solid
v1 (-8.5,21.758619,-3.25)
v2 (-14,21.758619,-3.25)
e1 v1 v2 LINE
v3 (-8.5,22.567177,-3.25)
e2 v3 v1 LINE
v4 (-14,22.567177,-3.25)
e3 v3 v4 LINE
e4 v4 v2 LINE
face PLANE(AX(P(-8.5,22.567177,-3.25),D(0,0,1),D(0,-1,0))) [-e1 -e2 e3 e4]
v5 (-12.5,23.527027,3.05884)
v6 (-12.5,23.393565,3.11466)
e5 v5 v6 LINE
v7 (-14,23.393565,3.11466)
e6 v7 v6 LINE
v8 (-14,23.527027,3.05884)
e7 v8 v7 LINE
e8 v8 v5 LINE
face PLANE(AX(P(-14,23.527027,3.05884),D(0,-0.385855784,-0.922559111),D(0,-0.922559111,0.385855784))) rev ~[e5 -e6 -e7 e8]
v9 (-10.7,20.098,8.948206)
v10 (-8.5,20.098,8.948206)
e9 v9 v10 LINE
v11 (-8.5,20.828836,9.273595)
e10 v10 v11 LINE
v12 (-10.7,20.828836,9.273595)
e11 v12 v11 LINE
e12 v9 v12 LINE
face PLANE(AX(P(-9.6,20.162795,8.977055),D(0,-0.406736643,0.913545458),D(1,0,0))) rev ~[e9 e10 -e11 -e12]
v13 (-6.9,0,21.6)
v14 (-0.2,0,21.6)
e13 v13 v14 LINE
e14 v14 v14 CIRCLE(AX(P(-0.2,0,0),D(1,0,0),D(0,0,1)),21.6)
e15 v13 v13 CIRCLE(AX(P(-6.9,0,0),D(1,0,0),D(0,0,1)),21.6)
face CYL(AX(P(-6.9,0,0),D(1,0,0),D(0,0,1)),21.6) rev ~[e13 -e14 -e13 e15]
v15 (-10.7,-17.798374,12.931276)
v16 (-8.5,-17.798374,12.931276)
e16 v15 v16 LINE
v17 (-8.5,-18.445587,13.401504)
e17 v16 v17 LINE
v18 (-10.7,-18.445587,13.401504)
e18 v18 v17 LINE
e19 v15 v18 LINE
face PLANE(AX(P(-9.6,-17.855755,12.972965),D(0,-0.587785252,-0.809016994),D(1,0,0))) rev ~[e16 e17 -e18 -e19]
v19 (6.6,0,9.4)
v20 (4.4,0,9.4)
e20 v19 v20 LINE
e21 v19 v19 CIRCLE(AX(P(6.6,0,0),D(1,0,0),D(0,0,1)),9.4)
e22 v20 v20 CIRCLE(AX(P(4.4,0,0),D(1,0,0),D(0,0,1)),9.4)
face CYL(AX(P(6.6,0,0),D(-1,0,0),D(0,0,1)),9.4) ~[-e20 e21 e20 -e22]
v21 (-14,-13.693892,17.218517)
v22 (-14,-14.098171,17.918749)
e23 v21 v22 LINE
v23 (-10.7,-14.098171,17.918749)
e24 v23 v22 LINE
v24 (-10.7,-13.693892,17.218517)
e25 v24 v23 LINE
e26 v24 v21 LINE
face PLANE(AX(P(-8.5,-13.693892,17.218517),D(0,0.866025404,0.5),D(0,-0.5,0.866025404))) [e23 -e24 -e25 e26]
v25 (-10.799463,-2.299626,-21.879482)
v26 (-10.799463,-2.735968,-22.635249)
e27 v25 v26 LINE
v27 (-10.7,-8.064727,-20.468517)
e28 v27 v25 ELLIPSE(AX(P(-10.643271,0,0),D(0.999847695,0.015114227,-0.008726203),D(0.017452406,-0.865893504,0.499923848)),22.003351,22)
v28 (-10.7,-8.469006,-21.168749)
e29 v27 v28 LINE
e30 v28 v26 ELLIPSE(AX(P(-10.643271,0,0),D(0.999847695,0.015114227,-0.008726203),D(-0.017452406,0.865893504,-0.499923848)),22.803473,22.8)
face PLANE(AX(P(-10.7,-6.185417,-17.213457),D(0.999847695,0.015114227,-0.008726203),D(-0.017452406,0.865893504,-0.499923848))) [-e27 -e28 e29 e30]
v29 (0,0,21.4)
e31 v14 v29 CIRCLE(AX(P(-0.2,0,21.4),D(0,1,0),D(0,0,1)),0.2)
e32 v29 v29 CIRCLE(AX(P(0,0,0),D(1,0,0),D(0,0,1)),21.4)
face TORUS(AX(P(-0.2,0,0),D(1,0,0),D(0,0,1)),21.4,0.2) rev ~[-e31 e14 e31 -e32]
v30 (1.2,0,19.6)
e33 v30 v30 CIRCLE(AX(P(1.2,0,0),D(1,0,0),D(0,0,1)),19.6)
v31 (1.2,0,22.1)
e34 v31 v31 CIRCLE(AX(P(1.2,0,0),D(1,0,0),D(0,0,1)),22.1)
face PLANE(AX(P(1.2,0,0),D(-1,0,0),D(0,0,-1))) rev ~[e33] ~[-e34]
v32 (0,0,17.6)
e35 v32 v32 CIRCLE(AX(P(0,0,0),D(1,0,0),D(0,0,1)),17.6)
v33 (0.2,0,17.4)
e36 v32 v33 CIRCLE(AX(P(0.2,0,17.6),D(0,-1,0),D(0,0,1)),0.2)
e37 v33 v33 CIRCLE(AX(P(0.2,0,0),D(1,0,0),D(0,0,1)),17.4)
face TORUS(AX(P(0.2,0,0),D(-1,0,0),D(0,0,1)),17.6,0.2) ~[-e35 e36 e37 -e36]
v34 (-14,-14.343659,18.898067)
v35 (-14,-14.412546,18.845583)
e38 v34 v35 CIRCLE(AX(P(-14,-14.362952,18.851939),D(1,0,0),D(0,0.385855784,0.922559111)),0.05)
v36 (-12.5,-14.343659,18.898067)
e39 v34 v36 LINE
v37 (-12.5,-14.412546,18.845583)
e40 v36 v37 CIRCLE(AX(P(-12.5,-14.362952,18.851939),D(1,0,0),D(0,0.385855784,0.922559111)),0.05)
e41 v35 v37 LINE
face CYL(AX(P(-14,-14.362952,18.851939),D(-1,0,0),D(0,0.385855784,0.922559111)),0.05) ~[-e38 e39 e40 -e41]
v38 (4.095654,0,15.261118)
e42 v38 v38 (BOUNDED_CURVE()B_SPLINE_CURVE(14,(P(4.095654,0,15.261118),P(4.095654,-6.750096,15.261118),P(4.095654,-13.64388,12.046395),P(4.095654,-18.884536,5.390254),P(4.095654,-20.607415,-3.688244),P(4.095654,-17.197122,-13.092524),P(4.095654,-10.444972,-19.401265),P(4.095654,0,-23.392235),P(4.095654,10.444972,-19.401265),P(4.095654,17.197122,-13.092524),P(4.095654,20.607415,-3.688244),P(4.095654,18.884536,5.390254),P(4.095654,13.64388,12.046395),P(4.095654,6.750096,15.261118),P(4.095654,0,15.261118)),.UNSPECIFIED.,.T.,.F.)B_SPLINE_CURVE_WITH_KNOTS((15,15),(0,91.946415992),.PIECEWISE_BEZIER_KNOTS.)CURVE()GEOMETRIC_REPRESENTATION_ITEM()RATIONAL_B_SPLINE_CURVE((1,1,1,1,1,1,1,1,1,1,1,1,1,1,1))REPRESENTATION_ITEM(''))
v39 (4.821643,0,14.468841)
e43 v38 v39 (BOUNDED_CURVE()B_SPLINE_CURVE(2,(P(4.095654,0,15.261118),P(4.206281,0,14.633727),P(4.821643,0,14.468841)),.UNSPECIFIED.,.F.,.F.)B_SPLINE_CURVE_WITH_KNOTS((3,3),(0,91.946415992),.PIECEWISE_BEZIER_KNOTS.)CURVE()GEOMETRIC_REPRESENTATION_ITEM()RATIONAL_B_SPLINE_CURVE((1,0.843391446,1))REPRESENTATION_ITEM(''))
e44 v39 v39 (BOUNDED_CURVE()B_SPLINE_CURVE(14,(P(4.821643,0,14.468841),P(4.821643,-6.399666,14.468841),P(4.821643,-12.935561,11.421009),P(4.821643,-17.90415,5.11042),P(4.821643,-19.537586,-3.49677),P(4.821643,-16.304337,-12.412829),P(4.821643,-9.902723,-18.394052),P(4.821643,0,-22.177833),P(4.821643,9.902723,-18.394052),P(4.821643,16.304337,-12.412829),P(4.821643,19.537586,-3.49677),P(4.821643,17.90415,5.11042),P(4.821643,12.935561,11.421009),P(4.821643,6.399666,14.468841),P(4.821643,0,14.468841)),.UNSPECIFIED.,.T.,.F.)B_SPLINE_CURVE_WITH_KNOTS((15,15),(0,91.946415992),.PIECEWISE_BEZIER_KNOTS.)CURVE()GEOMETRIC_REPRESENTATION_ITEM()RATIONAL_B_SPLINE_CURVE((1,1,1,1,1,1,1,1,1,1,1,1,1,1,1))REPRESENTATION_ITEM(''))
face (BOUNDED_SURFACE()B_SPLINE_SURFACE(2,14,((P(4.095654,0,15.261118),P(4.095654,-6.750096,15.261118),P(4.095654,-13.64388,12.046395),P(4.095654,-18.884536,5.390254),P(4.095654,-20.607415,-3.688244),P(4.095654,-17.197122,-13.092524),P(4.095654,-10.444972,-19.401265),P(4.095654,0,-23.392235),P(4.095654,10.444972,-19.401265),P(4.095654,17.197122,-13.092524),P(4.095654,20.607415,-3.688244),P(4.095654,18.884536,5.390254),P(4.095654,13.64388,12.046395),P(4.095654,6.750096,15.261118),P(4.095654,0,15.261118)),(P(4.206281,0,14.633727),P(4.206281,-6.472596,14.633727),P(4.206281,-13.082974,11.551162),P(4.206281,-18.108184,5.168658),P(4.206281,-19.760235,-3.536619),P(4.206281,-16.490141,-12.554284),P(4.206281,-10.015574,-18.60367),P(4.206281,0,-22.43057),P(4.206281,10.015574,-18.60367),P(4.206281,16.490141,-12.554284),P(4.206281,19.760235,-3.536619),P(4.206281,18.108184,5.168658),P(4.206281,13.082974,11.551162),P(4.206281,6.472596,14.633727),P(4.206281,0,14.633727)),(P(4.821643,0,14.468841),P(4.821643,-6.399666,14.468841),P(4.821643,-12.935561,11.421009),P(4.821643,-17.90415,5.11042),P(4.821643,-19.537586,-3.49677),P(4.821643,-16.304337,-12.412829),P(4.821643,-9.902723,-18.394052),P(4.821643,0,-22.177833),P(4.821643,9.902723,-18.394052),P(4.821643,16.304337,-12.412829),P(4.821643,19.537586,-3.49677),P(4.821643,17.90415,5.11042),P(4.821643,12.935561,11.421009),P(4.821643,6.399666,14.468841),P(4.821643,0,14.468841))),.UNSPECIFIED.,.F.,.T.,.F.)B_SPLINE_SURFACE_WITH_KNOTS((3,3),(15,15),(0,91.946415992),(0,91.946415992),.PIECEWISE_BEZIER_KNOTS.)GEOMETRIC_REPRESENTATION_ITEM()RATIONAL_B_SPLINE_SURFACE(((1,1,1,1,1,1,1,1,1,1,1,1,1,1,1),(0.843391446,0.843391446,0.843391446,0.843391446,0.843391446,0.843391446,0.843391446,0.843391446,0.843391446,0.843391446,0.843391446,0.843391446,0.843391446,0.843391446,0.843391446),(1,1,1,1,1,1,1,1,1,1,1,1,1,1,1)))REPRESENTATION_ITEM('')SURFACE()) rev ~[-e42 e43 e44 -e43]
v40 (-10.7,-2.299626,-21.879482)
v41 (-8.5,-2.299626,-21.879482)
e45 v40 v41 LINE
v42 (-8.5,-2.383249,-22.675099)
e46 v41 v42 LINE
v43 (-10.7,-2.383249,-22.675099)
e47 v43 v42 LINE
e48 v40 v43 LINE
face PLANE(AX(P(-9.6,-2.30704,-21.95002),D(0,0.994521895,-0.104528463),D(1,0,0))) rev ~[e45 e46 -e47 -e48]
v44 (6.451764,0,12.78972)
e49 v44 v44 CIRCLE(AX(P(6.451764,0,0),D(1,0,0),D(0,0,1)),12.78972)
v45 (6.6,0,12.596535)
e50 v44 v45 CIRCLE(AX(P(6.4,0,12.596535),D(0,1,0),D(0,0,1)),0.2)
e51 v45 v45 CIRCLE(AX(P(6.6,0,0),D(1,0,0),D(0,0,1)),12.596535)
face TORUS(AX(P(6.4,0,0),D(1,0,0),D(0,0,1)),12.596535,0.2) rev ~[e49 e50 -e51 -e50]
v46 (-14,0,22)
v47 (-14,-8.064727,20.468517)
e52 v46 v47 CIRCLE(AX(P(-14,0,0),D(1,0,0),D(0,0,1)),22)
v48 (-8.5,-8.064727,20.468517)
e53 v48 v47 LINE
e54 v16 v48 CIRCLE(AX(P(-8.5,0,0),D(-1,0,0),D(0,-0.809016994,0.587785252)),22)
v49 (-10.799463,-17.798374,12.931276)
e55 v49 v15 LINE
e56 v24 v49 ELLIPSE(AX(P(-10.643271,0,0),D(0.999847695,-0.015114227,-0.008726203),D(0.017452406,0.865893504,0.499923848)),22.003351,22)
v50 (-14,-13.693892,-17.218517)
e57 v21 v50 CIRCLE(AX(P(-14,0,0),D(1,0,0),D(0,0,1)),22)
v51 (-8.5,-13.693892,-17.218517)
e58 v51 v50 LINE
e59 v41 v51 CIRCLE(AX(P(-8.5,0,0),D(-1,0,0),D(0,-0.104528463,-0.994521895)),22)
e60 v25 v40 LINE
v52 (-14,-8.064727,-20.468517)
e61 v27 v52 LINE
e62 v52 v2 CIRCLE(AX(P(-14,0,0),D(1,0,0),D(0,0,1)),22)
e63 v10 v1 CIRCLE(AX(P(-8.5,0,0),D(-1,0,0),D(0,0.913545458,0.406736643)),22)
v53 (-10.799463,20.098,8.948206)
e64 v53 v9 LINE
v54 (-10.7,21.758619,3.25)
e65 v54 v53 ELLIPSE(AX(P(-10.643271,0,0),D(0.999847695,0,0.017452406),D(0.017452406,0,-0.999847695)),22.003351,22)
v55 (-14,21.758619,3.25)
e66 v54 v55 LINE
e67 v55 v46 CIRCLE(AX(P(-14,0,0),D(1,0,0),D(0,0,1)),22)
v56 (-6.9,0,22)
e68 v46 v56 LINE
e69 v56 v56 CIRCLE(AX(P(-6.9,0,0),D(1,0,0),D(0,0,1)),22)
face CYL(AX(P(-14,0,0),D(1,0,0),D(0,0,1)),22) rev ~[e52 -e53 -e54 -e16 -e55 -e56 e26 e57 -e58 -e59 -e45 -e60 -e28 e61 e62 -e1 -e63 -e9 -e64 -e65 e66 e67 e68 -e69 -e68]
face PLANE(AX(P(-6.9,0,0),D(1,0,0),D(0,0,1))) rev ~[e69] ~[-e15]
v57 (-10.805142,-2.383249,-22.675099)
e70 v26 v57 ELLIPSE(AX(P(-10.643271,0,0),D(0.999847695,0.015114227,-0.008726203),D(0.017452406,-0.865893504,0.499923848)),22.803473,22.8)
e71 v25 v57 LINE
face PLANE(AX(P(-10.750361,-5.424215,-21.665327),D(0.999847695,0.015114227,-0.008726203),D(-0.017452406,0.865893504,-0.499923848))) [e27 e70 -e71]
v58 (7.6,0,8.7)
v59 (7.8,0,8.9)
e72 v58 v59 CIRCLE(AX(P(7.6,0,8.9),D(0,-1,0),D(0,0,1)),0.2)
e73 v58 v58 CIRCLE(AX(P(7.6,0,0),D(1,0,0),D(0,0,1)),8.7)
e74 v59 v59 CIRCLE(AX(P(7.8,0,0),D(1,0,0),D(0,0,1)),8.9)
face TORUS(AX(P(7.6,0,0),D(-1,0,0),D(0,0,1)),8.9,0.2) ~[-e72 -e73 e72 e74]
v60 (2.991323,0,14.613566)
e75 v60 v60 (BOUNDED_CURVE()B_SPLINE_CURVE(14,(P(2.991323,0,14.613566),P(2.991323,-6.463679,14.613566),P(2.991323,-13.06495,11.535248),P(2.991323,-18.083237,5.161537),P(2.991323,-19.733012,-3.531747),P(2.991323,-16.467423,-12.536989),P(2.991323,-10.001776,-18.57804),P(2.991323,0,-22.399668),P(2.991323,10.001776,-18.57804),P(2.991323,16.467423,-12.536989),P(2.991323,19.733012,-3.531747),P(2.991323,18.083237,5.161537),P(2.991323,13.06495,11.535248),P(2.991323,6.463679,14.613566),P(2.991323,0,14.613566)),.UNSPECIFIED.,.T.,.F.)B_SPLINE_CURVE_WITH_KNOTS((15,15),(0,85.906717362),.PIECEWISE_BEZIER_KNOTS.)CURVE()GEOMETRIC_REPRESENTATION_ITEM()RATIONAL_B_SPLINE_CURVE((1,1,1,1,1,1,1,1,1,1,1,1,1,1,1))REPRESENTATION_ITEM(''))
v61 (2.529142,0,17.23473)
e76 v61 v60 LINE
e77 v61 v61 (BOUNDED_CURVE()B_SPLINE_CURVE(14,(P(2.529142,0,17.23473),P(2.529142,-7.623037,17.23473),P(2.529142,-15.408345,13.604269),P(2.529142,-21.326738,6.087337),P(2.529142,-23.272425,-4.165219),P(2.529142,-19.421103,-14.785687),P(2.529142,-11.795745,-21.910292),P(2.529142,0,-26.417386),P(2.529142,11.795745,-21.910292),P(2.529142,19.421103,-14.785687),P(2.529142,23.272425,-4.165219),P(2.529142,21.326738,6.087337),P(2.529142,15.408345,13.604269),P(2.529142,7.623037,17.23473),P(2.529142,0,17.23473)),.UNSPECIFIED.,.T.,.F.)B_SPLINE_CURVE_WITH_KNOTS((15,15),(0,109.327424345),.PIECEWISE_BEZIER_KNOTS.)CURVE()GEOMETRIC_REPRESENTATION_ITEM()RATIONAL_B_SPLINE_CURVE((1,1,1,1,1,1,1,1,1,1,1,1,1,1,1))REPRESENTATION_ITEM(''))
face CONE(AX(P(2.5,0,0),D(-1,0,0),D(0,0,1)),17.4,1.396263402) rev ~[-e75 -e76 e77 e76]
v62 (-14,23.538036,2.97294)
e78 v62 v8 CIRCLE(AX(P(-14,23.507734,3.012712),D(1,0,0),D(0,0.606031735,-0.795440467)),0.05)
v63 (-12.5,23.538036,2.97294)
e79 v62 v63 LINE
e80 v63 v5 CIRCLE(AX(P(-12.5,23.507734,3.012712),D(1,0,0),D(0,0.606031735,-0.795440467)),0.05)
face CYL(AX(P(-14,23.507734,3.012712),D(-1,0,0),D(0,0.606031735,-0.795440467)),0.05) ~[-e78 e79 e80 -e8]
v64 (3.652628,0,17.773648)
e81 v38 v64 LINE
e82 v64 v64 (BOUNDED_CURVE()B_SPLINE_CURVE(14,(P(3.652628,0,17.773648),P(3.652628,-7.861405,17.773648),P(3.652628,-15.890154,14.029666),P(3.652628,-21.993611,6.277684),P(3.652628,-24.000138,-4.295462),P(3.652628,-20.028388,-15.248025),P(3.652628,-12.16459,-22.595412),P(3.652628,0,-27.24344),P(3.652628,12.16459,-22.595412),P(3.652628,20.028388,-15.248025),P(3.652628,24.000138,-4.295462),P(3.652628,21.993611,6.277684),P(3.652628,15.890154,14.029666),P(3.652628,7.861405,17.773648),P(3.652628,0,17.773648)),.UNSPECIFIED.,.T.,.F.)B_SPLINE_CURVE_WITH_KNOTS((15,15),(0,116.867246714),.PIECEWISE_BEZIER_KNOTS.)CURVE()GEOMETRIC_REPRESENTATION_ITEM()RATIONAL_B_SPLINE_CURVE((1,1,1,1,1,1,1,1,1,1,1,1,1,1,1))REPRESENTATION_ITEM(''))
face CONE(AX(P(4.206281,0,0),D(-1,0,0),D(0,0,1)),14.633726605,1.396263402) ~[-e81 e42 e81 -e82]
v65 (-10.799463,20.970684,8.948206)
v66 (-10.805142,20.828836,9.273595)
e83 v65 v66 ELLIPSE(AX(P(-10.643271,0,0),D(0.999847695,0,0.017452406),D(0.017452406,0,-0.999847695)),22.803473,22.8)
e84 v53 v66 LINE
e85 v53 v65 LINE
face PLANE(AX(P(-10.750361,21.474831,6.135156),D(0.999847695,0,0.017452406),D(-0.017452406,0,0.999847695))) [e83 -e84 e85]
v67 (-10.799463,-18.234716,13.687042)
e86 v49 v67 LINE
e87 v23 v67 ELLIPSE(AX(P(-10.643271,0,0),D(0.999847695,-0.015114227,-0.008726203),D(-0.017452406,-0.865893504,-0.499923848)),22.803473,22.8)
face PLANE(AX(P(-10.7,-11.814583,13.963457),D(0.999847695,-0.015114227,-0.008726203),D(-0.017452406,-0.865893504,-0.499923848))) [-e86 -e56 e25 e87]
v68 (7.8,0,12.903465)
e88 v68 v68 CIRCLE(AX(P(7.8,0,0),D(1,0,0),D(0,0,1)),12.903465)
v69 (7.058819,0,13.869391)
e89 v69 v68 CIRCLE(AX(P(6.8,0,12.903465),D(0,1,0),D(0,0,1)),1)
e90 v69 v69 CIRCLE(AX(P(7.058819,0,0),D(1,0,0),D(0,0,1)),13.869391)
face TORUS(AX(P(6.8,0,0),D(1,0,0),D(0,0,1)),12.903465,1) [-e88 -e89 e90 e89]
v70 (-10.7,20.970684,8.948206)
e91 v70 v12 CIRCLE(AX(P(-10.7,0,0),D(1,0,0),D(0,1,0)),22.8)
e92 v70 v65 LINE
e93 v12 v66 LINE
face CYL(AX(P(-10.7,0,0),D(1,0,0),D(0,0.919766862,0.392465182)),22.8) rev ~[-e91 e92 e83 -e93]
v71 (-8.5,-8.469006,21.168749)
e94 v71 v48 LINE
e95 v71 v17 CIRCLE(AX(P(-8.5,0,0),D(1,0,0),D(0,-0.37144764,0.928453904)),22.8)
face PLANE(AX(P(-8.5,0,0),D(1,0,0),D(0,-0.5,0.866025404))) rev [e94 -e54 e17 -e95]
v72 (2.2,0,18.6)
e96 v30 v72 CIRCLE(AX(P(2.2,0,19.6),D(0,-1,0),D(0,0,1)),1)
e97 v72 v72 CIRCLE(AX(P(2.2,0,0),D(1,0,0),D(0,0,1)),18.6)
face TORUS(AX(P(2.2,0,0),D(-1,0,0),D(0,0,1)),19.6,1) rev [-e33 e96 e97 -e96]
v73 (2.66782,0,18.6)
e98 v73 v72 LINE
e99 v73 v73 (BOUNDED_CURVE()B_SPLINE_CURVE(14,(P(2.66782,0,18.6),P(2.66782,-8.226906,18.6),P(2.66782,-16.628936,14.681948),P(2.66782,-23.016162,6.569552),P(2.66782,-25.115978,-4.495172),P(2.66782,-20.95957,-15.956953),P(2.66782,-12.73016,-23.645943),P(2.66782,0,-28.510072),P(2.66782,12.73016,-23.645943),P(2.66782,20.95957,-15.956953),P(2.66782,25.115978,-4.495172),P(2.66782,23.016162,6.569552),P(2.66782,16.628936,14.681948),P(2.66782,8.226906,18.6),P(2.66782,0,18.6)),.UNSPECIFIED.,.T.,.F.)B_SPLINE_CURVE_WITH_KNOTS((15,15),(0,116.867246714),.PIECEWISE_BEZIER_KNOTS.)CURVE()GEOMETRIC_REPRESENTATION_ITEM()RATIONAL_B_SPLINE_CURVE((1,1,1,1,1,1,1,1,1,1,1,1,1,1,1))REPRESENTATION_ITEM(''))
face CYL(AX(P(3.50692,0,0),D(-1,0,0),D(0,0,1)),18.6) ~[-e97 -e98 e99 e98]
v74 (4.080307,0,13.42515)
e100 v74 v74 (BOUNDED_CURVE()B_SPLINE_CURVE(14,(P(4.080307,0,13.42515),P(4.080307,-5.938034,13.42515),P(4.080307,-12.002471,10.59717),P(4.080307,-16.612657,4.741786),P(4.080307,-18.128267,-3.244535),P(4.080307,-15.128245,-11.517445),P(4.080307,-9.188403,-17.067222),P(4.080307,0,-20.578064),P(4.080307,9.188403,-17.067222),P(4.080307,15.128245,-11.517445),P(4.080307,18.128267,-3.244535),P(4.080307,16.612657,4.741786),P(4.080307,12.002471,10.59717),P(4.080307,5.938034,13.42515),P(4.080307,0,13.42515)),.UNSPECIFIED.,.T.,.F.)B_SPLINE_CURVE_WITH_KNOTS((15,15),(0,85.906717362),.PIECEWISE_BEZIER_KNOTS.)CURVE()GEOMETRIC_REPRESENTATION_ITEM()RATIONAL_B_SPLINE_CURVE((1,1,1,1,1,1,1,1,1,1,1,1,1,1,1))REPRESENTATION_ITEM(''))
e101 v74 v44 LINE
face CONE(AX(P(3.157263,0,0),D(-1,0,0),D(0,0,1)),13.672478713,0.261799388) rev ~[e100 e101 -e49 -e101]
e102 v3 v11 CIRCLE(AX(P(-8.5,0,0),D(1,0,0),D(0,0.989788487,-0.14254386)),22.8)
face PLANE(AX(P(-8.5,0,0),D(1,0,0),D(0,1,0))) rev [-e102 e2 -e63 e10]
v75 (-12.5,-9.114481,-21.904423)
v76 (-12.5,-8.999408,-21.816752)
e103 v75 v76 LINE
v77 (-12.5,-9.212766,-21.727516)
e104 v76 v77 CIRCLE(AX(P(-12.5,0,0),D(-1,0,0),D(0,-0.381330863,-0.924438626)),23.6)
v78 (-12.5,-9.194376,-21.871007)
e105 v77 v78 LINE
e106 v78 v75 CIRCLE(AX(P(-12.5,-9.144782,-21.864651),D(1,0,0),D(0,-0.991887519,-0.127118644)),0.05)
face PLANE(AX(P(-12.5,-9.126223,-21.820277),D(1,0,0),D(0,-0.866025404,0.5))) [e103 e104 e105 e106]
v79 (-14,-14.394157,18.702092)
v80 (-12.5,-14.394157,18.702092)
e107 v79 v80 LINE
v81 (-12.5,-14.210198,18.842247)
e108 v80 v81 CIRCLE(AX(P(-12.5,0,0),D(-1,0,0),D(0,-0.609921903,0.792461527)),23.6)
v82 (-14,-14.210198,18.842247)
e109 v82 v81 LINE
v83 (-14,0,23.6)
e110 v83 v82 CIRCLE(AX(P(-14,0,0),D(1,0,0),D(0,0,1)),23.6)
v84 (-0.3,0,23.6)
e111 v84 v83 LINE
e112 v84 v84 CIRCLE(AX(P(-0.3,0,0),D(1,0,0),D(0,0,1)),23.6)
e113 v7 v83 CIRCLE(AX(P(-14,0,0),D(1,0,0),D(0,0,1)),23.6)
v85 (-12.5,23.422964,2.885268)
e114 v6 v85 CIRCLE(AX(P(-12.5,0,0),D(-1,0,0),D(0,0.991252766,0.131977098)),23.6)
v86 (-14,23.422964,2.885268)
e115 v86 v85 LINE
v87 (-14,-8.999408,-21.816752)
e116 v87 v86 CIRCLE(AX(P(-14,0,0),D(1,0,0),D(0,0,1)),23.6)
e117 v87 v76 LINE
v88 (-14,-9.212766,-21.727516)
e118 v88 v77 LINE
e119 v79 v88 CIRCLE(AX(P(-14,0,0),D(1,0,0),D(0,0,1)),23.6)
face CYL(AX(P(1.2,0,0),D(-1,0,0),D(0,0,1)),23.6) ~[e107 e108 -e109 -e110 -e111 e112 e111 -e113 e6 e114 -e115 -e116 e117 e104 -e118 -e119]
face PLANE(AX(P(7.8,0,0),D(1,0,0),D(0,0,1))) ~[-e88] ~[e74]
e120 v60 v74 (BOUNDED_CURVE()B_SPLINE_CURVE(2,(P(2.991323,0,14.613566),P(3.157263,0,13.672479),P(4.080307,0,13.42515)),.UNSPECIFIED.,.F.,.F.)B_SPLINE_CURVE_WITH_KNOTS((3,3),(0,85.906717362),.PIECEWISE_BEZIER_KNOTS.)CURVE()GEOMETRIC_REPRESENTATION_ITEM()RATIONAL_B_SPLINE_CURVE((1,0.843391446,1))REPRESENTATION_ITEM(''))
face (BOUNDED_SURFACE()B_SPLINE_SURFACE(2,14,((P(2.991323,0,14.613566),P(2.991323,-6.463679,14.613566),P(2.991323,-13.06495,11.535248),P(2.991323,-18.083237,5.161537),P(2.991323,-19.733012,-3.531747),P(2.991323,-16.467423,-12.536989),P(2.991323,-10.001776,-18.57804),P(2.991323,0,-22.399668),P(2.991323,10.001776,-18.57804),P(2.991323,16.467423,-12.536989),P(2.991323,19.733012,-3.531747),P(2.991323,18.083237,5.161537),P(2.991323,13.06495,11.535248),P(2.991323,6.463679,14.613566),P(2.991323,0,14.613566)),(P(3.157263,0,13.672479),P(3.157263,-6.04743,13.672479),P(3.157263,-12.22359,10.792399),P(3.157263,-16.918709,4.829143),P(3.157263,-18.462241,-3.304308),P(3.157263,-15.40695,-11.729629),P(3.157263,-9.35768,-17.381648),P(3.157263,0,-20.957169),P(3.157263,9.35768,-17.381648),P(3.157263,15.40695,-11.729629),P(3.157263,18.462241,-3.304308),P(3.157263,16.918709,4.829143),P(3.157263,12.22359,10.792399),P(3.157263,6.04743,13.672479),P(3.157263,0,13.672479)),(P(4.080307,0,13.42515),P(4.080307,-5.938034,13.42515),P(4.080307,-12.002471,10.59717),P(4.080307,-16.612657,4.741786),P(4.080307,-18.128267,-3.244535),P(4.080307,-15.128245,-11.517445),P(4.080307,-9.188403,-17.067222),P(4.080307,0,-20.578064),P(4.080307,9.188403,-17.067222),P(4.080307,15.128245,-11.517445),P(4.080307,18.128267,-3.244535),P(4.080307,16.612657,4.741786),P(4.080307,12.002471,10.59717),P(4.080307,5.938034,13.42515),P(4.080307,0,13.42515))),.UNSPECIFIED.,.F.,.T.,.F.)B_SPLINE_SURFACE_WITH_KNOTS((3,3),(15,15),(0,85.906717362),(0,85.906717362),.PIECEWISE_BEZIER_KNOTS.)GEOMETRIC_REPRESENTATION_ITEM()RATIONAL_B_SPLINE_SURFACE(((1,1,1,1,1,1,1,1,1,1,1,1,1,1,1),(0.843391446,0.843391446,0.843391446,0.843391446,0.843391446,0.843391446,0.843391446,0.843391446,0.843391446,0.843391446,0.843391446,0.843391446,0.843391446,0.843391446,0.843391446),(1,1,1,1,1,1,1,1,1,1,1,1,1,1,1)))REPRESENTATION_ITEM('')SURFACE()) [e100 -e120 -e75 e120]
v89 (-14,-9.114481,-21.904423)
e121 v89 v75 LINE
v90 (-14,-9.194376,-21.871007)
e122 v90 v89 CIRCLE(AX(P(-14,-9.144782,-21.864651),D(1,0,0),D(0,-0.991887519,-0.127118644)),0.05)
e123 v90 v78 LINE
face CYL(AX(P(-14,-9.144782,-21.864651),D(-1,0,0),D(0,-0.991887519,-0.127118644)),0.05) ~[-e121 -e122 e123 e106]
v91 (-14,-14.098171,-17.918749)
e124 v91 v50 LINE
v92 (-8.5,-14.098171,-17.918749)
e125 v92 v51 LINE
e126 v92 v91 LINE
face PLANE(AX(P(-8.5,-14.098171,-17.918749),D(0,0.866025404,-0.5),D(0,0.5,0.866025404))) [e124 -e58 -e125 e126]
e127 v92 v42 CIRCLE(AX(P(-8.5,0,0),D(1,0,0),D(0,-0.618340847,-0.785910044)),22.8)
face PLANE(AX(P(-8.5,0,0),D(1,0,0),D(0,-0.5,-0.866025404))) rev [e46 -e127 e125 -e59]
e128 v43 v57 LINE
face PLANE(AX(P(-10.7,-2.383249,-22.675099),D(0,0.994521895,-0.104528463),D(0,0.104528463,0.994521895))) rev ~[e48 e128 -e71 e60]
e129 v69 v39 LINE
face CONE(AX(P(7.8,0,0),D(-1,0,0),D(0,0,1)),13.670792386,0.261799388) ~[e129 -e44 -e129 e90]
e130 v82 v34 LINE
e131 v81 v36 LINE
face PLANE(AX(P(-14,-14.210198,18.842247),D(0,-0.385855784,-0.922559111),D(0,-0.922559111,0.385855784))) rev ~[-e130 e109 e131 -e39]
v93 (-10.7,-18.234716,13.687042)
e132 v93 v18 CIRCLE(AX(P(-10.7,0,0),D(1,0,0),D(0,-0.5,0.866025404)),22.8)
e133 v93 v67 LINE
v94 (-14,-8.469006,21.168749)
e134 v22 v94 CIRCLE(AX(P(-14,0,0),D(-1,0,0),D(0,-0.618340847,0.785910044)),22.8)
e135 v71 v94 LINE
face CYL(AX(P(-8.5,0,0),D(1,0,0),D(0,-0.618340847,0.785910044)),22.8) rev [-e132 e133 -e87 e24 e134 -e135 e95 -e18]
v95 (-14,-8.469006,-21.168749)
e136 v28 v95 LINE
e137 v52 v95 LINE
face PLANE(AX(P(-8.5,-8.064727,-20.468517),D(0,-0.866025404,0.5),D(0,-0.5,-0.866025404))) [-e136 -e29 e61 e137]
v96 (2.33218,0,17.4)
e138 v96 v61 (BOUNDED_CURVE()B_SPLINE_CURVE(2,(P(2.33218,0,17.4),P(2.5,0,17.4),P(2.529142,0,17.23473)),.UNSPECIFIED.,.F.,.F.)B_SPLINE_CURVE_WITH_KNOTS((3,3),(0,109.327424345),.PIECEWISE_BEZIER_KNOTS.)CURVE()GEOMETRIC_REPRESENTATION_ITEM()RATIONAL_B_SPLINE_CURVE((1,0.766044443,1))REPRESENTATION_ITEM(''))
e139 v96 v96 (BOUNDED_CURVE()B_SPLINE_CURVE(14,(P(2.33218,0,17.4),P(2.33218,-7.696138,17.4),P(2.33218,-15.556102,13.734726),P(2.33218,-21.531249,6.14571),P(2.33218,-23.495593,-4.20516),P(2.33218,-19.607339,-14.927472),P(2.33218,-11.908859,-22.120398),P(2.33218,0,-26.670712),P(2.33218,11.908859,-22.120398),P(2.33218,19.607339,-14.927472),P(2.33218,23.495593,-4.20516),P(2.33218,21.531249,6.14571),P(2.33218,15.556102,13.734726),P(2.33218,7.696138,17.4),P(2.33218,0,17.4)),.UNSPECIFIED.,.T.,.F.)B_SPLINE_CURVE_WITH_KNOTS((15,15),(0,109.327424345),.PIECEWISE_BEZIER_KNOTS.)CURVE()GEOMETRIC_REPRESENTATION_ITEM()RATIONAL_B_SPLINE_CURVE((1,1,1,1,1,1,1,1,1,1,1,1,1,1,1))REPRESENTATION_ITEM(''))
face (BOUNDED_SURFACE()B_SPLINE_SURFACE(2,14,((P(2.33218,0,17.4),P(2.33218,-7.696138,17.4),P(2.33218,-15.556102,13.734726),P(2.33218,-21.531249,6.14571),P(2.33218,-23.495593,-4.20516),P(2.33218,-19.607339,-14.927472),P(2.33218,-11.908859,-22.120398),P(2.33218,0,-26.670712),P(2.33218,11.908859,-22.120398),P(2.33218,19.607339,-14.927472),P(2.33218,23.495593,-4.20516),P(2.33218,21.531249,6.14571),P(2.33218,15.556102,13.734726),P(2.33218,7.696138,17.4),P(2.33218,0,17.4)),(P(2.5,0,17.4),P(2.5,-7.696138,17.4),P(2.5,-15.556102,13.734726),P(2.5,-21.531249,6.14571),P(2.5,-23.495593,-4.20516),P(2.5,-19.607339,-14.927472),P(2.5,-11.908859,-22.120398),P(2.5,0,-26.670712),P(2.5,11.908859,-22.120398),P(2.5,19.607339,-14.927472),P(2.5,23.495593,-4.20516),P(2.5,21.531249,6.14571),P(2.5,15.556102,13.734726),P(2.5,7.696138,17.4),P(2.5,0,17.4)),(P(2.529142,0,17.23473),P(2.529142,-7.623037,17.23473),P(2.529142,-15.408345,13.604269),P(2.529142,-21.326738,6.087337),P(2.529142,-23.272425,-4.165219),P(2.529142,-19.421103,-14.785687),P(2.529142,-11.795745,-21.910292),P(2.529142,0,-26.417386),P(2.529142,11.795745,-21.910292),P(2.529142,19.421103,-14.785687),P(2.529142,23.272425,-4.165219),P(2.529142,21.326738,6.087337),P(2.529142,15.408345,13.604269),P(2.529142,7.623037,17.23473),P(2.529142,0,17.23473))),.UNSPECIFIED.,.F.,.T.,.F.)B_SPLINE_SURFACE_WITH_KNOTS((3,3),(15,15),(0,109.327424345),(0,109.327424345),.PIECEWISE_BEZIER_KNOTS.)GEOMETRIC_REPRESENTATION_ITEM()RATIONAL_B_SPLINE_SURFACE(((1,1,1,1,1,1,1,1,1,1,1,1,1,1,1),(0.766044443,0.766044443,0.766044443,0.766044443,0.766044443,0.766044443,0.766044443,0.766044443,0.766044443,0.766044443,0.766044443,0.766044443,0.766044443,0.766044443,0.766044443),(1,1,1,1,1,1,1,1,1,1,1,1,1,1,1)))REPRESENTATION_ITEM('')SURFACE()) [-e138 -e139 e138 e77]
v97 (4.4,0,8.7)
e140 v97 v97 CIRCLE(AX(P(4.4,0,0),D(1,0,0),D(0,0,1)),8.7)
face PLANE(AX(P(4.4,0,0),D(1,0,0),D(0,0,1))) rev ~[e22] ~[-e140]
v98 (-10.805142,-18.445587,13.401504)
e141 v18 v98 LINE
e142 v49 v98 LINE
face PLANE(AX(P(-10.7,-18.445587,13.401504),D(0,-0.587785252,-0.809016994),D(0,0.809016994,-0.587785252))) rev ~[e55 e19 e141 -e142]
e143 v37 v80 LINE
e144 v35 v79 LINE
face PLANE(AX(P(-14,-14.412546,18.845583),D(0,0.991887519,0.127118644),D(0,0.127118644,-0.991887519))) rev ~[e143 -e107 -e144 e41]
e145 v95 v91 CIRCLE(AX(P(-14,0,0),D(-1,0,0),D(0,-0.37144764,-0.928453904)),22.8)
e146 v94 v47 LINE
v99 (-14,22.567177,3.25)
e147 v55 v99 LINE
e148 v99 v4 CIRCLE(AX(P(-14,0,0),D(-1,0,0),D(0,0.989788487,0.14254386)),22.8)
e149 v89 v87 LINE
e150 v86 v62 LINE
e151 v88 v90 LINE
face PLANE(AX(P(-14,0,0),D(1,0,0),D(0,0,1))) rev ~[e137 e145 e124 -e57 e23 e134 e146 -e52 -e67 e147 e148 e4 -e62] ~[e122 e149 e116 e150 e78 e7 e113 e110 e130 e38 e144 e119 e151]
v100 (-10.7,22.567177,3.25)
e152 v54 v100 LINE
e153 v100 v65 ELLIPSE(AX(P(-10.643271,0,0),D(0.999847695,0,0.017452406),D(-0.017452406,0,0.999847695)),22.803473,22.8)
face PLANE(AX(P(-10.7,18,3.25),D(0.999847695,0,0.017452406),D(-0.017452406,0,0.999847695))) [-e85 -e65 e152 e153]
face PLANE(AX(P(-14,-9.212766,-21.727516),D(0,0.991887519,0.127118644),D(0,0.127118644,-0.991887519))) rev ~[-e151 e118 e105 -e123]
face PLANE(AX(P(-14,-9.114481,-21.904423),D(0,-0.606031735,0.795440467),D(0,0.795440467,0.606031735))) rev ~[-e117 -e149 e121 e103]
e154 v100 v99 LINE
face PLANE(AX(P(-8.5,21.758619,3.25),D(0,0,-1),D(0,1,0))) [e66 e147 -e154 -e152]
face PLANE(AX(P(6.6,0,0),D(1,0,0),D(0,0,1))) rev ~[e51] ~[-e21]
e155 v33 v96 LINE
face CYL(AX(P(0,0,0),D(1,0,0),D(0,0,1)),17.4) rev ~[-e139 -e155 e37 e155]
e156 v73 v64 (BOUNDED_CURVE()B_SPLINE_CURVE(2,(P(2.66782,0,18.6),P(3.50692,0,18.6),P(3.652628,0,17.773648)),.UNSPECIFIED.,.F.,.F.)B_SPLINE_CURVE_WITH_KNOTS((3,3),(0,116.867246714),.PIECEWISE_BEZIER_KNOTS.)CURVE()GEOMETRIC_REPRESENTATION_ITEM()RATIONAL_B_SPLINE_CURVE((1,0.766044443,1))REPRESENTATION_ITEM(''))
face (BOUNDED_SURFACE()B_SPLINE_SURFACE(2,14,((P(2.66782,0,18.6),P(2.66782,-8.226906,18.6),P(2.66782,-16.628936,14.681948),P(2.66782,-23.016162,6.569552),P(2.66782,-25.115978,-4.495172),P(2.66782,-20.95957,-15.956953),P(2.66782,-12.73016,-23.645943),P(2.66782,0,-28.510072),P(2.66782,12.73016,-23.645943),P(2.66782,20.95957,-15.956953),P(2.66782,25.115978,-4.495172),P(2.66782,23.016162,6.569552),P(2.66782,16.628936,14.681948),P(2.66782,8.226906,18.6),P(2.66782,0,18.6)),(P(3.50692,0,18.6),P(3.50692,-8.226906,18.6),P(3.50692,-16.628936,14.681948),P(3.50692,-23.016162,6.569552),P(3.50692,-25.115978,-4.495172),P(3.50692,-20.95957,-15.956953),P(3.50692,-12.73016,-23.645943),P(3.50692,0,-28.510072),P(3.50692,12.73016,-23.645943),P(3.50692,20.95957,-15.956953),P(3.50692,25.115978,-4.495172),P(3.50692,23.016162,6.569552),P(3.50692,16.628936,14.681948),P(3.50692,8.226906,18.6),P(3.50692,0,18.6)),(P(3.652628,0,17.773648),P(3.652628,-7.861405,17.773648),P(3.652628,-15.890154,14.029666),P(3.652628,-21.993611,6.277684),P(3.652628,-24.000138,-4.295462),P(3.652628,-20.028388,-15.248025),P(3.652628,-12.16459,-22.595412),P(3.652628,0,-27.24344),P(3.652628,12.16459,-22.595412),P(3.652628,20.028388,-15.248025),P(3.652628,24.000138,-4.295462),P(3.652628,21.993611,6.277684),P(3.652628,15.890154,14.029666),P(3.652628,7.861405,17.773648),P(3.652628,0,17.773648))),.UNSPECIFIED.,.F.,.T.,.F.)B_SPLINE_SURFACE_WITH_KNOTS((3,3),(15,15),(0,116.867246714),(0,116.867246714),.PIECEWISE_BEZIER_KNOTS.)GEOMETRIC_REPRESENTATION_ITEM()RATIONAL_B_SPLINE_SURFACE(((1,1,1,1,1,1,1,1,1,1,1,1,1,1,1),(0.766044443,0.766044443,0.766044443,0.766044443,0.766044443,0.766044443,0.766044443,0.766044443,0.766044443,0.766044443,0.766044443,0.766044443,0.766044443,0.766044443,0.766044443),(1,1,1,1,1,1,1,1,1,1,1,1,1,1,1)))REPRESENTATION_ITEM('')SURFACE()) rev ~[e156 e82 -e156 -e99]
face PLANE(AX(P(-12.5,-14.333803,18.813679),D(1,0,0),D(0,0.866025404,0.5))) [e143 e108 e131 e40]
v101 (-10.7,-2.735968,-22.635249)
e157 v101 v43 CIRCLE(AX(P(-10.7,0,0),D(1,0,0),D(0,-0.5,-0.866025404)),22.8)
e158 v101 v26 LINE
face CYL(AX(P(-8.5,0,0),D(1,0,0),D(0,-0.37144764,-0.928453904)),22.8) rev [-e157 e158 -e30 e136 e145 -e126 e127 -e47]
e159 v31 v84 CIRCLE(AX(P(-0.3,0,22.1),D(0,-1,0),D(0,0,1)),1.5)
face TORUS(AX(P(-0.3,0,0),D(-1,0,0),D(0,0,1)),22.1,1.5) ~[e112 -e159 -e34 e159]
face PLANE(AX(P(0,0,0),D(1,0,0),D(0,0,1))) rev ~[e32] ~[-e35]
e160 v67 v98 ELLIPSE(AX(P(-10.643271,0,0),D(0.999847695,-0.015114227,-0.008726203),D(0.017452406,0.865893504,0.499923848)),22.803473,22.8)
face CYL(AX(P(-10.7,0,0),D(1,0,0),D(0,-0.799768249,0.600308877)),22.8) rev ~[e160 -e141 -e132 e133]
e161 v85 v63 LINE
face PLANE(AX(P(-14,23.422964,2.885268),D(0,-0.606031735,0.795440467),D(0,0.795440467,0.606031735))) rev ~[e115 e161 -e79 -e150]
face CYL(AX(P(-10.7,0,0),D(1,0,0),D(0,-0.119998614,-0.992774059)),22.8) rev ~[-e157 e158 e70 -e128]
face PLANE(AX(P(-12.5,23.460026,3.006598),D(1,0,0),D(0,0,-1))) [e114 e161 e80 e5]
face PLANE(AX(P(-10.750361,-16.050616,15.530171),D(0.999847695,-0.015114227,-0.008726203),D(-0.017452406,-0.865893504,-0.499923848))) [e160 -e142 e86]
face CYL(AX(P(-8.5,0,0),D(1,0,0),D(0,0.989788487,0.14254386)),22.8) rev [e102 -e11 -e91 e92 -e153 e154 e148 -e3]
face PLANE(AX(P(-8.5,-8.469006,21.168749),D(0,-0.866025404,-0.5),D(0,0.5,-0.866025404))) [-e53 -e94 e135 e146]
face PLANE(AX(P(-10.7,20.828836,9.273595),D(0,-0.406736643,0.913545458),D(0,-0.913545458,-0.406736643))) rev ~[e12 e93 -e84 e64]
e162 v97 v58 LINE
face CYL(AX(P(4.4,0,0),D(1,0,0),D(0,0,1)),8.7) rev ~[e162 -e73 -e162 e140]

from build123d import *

# Parameters (mm, degrees)
FILLET_1_R               = 0.2
FILLET_2_R               = 1
FILLET_3_R               = 1.5
CUT_EXTRUDE_START        = -1
CUT_EXTRUDE_1_DEPTH      = 1
CUT_EXTRUDE_START_2      = -5.5
CUT_EXTRUDE_2_DEPTH      = 5.5
SKETCH_5_W               = 2.200000000000001
SKETCH_5_H               = 1.458146796235166
CUT_REVOLVE_1_ANGLE      = 24.000000000000053
CUT_EXTRUDE_3_REACH      = 51.835
CUT_EXTRUDE_3_END_RADIUS = 22.8
PATTERN_CIRCULAR_1_COUNT = 3
CUT_EXTRUDE_5_REACH      = 40.16
PATTERN_CIRCULAR_3_COUNT = 3
CUT_EXTRUDE_6_REACH      = 40.16
CUT_EXTRUDE_7_REACH      = 40.16
EXTRUDE_2_DEPTH          = 1.5
PATTERN_CIRCULAR_7_COUNT = 3


with BuildPart() as part:
    # 草图2 → 旋转1 (revolve)
    with BuildSketch(Plane.XY, mode=Mode.PRIVATE) as revolve_1_sk:
        Polygon((-13.999999999999998, 22), (-6.899999999999999, 22), (-6.899999999999999, 21.599999999999998), (1.73e-15, 21.599999999999998), (2.28e-15, 17.4), (2.500000000000002, 17.4), (3.157262574057294, 13.672478713033763), (6.600000000000001, 12.75), (6.600000000000003, 9.4), (4.400000000000003, 9.4), (4.400000000000003, 8.700000000000001), (7.800000000000003, 8.700000000000001), (7.800000000000003, 13.670792385574746), (4.206280569869923, 14.633726604702153), (3.506919557412737, 18.599999999999998), (1.200000000000002, 18.599999999999998), (1.2000000000000015, 23.599999999999998), (-13.999999999999998, 23.599999999999998), align=None)
    revolve(revolve_1_sk.sketch.rotate(Axis((-36.93660531697341, 0, 0), (1, 0, 0)), 90), axis=Axis((-36.93660531697341, 0, 0), (1, 0, 0)))

    # 圆角1
    fillet_1_edges = [part.edges().sort_by_distance(p)[0] for p in [
        (0, 4.55e-15, -21.599999999999998),
        (0, -4.06e-15, -17.4),
        (2.5, -4.06e-15, -17.4),
        (6.600000000000001, -2.98e-15, -12.75),
        (7.800000000000004, -2.03e-15, -8.700000000000001),
    ]]
    fillet(fillet_1_edges, radius=FILLET_1_R)

    # 圆角2
    fillet_2_edges = [part.edges().sort_by_distance(p)[0] for p in [
        (7.800000000000004, -3.19e-15, -13.670792385574746),
        (4.206280569869925, -3.42e-15, -14.633726604702153),
        (3.5069195574127363, -4.34e-15, -18.599999999999998),
        (1.2000000000000028, -4.34e-15, -18.599999999999998),
    ]]
    fillet(fillet_2_edges, radius=FILLET_2_R)

    # 圆角3
    fillet_3_edges = [part.edges().sort_by_distance(p)[0] for p in [
        (3.1572625740572917, -3.19e-15, -13.672478713033763),
        (1.2000000000000028, -5.51e-15, -23.599999999999998),
    ]]
    fillet(fillet_3_edges, radius=FILLET_3_R)

    # 草图3 → 切除-拉伸1 (cut)
    with BuildSketch(Plane.ZY.offset(13.999999999999998).offset(CUT_EXTRUDE_START)):
        with BuildLine():
            Line((-0.49999999999999933, 22.599999999999998), (0.5000000000000004, 22.599999999999998))
            Line((0.5000000000000004, 22.599999999999998), (0.5000000000000006, 21.99431744792277))
            ThreePointArc((0.5000000000000006, 21.99431744792277), (1.35e-15, 22), (-0.4999999999999993, 21.99431744792277))
            Line((-0.4999999999999993, 21.99431744792277), (-0.49999999999999933, 22.599999999999998))
        make_face()
    extrude(amount=CUT_EXTRUDE_1_DEPTH, mode=Mode.SUBTRACT)

    # 草图4 → 切除-拉伸2 (cut)
    with BuildSketch(Plane.ZY.offset(13.999999999999998).offset(CUT_EXTRUDE_START_2)):
        with BuildLine():
            Line((-3.2499999999999982, 22.56717749298747), (-3.2499999999999987, 21.75861898191151))
            ThreePointArc((-3.2499999999999987, 21.75861898191151), (1.35e-15, 21.999999999999996), (3.2500000000000013, 21.75861898191151))
            Line((3.2500000000000013, 21.75861898191151), (3.2500000000000018, 22.567177492987465))
            ThreePointArc((3.2500000000000018, 22.567177492987465), (1.4e-15, 22.8), (-3.2499999999999982, 22.56717749298747))
        make_face()
    cut_extrude_2 = extrude(amount=CUT_EXTRUDE_2_DEPTH, mode=Mode.SUBTRACT)

    # 草图5 → 切除-旋转1 (revolve, cut)
    with BuildSketch(Plane.XY):
        with Locations((-9.599999999999994, 22.070926601882412)):
            Rectangle(SKETCH_5_W, SKETCH_5_H)
    cut_revolve_1 = revolve(axis=Axis((16.624194515447005, 0, 0), (1, 0, 0)), revolution_arc=CUT_REVOLVE_1_ANGLE, mode=Mode.SUBTRACT)

    # 切除-拉伸3: up to this cylinder (the profile starts inside it)
    cut_extrude_3_end = Plane(origin=(-10.733154, 0, 0), z_dir=(-1, 0, 0)) * Cylinder(CUT_EXTRUDE_3_END_RADIUS, 150.27, mode=Mode.PRIVATE)
    # 草图6 → 切除-拉伸3 (cut, up to the surface)
    with BuildSketch(Plane(origin=(0, 18, 0), x_dir=(1, 0, 0), z_dir=(0, 1, 0)), mode=Mode.PRIVATE) as cut_extrude_3_sk1:
        Polygon((-10.699999999999994, -8.948206147667621), (-10.699999999999994, -3.2500000000000013), (-10.799462558281862, -8.948206147667621), align=None)
    cut_extrude_3_tool1 = extrude(cut_extrude_3_sk1.sketch, amount=CUT_EXTRUDE_3_REACH, mode=Mode.PRIVATE) & cut_extrude_3_end
    cut_extrude_3 = cut_extrude_3_tool1.solids().sort_by_distance((-10.733154, 18, 7.048804))[0]
    add(cut_extrude_3, mode=Mode.SUBTRACT)

    # 阵列(圆周)1: 切除-拉伸2, 切除-旋转1 ×3 about axis
    pattern_circular_1_axis = Axis((0, 5e-17, 2e-16), (1, 0, 0))
    add([cut_extrude_2.rotate(pattern_circular_1_axis, i * 360 / PATTERN_CIRCULAR_1_COUNT) for i in range(1, PATTERN_CIRCULAR_1_COUNT)], mode=Mode.SUBTRACT)
    add([cut_revolve_1.rotate(pattern_circular_1_axis, i * 360 / PATTERN_CIRCULAR_1_COUNT) for i in range(1, PATTERN_CIRCULAR_1_COUNT)], mode=Mode.SUBTRACT)

    # 切除-拉伸5: up to this face of the body (flat: up to its plane)
    cut_extrude_5_end = Plane(part.part.faces().sort_by_distance((-10.750360581, 21.4748312, 6.135155752))[0])
    # 草图9 → 切除-拉伸5 (cut, up to the picked face)
    with BuildSketch(Plane(origin=(-10.699999999999994, 0, 0), x_dir=(0, 0, -1), z_dir=(1, 0, 0)), mode=Mode.PRIVATE) as cut_extrude_5_sk1:
        with BuildLine():
            Line((-9.273595462128261, 20.82883643425129), (-8.948206147667621, 20.09800006813721))
            Line((-8.948206147667621, 20.09800006813721), (-8.948206147667618, 20.970684460428163))
            ThreePointArc((-8.948206147667618, 20.970684460428163), (-9.111176855506788, 20.90039368786333), (-9.273595462128261, 20.82883643425129))
        make_face()
    cut_extrude_5_tool1 = split(extrude(cut_extrude_5_sk1.sketch, amount=-CUT_EXTRUDE_5_REACH, mode=Mode.PRIVATE), bisect_by=cut_extrude_5_end, keep=Keep.BOTH, mode=Mode.PRIVATE)
    add(cut_extrude_5_tool1.solids().sort_by(Axis((-10.7, 20.632815, 9.056732), (-1, 0, 0)))[0], mode=Mode.SUBTRACT)

    # 阵列(圆周)3: 切除-拉伸3 ×3 about axis
    pattern_circular_3_axis = Axis((0, 0, 3e-17), (1, 0, 0))
    for i in range(1, PATTERN_CIRCULAR_3_COUNT):
        add(cut_extrude_3.rotate(pattern_circular_3_axis, i * 360 / PATTERN_CIRCULAR_3_COUNT), mode=Mode.SUBTRACT)

    # 切除-拉伸6: up to this face of the body (flat: up to its plane)
    cut_extrude_6_end = Plane(part.part.faces().sort_by_distance((-10.750360581, -5.424214863, -21.665327237))[0])
    # 草图10 → 切除-拉伸6 (cut, up to the picked face)
    with BuildSketch(Plane(origin=(-10.699999999999994, 0, 0), x_dir=(0, 0, -1), z_dir=(1, 0, 0)), mode=Mode.PRIVATE) as cut_extrude_6_sk1:
        with BuildLine():
            Line((22.675099214396656, -2.383248962502268), (21.879481698102033, -2.2996261918881546))
            Line((21.879481698102033, -2.2996261918881546), (22.63524855131219, -2.7359683880336263))
            ThreePointArc((22.63524855131219, -2.7359683880336263), (22.655860310538994, -2.5596862286897593), (22.675099214396656, -2.383248962502268))
        make_face()
    cut_extrude_6_tool1 = split(extrude(cut_extrude_6_sk1.sketch, amount=-CUT_EXTRUDE_6_REACH, mode=Mode.PRIVATE), bisect_by=cut_extrude_6_end, keep=Keep.BOTH, mode=Mode.PRIVATE)
    add(cut_extrude_6_tool1.solids().sort_by(Axis((-10.7, -2.473048, -22.396907), (-1, 0, 0)))[0], mode=Mode.SUBTRACT)

    # 切除-拉伸7: up to this face of the body (flat: up to its plane)
    cut_extrude_7_end = Plane(part.part.faces().sort_by_distance((-10.750360581, -16.050616337, 15.530171486))[0])
    # 草图11 → 切除-拉伸7 (cut, up to the picked face)
    with BuildSketch(Plane(origin=(-10.699999999999994, 0, 0), x_dir=(0, 0, -1), z_dir=(1, 0, 0)), mode=Mode.PRIVATE) as cut_extrude_7_sk1:
        with BuildLine():
            Line((-13.401503752268288, -18.445587471748876), (-12.93127555043432, -17.79837387624892))
            Line((-12.93127555043432, -17.79837387624892), (-13.687042403644462, -18.234716072394395))
            ThreePointArc((-13.687042403644462, -18.234716072394395), (-13.5446834550321, -18.340707459173426), (-13.401503752268288, -18.445587471748876))
        make_face()
    cut_extrude_7_tool1 = split(extrude(cut_extrude_7_sk1.sketch, amount=-CUT_EXTRUDE_7_REACH, mode=Mode.PRIVATE), bisect_by=cut_extrude_7_end, keep=Keep.BOTH, mode=Mode.PRIVATE)
    add(cut_extrude_7_tool1.solids().sort_by(Axis((-10.7, -18.159767, 13.340176), (-1, 0, 0)))[0], mode=Mode.SUBTRACT)

    # 草图14 → 凸台-拉伸2 (add)
    with BuildSketch(Plane.ZY.offset(13.999999999999998)):
        with BuildLine():
            Line((2.8852684537650393, 23.422963645741078), (2.9729398410513204, 23.538035786817254))
            ThreePointArc((2.9729398410513204, 23.538035786817254), (3.0190677966101642, 23.55732857603917), (3.0588398199656246, 23.527026989311526))
            Line((3.0588398199656246, 23.527026989311526), (3.1146595237623087, 23.39356527019848))
            ThreePointArc((3.1146595237623087, 23.39356527019848), (2.999999999999998, 23.40854544819049), (2.8852684537650393, 23.422963645741078))
        make_face()
    extrude_2 = extrude(amount=-EXTRUDE_2_DEPTH)

    # 阵列(圆周)7: 凸台-拉伸2 ×3 about axis
    pattern_circular_7_axis = Axis((0, -4.9e-16, -4.4e-16), (1, 0, 0))
    for i in range(1, PATTERN_CIRCULAR_7_COUNT):
        add(extrude_2.rotate(pattern_circular_7_axis, i * 360 / PATTERN_CIRCULAR_7_COUNT))


solid = part.part
